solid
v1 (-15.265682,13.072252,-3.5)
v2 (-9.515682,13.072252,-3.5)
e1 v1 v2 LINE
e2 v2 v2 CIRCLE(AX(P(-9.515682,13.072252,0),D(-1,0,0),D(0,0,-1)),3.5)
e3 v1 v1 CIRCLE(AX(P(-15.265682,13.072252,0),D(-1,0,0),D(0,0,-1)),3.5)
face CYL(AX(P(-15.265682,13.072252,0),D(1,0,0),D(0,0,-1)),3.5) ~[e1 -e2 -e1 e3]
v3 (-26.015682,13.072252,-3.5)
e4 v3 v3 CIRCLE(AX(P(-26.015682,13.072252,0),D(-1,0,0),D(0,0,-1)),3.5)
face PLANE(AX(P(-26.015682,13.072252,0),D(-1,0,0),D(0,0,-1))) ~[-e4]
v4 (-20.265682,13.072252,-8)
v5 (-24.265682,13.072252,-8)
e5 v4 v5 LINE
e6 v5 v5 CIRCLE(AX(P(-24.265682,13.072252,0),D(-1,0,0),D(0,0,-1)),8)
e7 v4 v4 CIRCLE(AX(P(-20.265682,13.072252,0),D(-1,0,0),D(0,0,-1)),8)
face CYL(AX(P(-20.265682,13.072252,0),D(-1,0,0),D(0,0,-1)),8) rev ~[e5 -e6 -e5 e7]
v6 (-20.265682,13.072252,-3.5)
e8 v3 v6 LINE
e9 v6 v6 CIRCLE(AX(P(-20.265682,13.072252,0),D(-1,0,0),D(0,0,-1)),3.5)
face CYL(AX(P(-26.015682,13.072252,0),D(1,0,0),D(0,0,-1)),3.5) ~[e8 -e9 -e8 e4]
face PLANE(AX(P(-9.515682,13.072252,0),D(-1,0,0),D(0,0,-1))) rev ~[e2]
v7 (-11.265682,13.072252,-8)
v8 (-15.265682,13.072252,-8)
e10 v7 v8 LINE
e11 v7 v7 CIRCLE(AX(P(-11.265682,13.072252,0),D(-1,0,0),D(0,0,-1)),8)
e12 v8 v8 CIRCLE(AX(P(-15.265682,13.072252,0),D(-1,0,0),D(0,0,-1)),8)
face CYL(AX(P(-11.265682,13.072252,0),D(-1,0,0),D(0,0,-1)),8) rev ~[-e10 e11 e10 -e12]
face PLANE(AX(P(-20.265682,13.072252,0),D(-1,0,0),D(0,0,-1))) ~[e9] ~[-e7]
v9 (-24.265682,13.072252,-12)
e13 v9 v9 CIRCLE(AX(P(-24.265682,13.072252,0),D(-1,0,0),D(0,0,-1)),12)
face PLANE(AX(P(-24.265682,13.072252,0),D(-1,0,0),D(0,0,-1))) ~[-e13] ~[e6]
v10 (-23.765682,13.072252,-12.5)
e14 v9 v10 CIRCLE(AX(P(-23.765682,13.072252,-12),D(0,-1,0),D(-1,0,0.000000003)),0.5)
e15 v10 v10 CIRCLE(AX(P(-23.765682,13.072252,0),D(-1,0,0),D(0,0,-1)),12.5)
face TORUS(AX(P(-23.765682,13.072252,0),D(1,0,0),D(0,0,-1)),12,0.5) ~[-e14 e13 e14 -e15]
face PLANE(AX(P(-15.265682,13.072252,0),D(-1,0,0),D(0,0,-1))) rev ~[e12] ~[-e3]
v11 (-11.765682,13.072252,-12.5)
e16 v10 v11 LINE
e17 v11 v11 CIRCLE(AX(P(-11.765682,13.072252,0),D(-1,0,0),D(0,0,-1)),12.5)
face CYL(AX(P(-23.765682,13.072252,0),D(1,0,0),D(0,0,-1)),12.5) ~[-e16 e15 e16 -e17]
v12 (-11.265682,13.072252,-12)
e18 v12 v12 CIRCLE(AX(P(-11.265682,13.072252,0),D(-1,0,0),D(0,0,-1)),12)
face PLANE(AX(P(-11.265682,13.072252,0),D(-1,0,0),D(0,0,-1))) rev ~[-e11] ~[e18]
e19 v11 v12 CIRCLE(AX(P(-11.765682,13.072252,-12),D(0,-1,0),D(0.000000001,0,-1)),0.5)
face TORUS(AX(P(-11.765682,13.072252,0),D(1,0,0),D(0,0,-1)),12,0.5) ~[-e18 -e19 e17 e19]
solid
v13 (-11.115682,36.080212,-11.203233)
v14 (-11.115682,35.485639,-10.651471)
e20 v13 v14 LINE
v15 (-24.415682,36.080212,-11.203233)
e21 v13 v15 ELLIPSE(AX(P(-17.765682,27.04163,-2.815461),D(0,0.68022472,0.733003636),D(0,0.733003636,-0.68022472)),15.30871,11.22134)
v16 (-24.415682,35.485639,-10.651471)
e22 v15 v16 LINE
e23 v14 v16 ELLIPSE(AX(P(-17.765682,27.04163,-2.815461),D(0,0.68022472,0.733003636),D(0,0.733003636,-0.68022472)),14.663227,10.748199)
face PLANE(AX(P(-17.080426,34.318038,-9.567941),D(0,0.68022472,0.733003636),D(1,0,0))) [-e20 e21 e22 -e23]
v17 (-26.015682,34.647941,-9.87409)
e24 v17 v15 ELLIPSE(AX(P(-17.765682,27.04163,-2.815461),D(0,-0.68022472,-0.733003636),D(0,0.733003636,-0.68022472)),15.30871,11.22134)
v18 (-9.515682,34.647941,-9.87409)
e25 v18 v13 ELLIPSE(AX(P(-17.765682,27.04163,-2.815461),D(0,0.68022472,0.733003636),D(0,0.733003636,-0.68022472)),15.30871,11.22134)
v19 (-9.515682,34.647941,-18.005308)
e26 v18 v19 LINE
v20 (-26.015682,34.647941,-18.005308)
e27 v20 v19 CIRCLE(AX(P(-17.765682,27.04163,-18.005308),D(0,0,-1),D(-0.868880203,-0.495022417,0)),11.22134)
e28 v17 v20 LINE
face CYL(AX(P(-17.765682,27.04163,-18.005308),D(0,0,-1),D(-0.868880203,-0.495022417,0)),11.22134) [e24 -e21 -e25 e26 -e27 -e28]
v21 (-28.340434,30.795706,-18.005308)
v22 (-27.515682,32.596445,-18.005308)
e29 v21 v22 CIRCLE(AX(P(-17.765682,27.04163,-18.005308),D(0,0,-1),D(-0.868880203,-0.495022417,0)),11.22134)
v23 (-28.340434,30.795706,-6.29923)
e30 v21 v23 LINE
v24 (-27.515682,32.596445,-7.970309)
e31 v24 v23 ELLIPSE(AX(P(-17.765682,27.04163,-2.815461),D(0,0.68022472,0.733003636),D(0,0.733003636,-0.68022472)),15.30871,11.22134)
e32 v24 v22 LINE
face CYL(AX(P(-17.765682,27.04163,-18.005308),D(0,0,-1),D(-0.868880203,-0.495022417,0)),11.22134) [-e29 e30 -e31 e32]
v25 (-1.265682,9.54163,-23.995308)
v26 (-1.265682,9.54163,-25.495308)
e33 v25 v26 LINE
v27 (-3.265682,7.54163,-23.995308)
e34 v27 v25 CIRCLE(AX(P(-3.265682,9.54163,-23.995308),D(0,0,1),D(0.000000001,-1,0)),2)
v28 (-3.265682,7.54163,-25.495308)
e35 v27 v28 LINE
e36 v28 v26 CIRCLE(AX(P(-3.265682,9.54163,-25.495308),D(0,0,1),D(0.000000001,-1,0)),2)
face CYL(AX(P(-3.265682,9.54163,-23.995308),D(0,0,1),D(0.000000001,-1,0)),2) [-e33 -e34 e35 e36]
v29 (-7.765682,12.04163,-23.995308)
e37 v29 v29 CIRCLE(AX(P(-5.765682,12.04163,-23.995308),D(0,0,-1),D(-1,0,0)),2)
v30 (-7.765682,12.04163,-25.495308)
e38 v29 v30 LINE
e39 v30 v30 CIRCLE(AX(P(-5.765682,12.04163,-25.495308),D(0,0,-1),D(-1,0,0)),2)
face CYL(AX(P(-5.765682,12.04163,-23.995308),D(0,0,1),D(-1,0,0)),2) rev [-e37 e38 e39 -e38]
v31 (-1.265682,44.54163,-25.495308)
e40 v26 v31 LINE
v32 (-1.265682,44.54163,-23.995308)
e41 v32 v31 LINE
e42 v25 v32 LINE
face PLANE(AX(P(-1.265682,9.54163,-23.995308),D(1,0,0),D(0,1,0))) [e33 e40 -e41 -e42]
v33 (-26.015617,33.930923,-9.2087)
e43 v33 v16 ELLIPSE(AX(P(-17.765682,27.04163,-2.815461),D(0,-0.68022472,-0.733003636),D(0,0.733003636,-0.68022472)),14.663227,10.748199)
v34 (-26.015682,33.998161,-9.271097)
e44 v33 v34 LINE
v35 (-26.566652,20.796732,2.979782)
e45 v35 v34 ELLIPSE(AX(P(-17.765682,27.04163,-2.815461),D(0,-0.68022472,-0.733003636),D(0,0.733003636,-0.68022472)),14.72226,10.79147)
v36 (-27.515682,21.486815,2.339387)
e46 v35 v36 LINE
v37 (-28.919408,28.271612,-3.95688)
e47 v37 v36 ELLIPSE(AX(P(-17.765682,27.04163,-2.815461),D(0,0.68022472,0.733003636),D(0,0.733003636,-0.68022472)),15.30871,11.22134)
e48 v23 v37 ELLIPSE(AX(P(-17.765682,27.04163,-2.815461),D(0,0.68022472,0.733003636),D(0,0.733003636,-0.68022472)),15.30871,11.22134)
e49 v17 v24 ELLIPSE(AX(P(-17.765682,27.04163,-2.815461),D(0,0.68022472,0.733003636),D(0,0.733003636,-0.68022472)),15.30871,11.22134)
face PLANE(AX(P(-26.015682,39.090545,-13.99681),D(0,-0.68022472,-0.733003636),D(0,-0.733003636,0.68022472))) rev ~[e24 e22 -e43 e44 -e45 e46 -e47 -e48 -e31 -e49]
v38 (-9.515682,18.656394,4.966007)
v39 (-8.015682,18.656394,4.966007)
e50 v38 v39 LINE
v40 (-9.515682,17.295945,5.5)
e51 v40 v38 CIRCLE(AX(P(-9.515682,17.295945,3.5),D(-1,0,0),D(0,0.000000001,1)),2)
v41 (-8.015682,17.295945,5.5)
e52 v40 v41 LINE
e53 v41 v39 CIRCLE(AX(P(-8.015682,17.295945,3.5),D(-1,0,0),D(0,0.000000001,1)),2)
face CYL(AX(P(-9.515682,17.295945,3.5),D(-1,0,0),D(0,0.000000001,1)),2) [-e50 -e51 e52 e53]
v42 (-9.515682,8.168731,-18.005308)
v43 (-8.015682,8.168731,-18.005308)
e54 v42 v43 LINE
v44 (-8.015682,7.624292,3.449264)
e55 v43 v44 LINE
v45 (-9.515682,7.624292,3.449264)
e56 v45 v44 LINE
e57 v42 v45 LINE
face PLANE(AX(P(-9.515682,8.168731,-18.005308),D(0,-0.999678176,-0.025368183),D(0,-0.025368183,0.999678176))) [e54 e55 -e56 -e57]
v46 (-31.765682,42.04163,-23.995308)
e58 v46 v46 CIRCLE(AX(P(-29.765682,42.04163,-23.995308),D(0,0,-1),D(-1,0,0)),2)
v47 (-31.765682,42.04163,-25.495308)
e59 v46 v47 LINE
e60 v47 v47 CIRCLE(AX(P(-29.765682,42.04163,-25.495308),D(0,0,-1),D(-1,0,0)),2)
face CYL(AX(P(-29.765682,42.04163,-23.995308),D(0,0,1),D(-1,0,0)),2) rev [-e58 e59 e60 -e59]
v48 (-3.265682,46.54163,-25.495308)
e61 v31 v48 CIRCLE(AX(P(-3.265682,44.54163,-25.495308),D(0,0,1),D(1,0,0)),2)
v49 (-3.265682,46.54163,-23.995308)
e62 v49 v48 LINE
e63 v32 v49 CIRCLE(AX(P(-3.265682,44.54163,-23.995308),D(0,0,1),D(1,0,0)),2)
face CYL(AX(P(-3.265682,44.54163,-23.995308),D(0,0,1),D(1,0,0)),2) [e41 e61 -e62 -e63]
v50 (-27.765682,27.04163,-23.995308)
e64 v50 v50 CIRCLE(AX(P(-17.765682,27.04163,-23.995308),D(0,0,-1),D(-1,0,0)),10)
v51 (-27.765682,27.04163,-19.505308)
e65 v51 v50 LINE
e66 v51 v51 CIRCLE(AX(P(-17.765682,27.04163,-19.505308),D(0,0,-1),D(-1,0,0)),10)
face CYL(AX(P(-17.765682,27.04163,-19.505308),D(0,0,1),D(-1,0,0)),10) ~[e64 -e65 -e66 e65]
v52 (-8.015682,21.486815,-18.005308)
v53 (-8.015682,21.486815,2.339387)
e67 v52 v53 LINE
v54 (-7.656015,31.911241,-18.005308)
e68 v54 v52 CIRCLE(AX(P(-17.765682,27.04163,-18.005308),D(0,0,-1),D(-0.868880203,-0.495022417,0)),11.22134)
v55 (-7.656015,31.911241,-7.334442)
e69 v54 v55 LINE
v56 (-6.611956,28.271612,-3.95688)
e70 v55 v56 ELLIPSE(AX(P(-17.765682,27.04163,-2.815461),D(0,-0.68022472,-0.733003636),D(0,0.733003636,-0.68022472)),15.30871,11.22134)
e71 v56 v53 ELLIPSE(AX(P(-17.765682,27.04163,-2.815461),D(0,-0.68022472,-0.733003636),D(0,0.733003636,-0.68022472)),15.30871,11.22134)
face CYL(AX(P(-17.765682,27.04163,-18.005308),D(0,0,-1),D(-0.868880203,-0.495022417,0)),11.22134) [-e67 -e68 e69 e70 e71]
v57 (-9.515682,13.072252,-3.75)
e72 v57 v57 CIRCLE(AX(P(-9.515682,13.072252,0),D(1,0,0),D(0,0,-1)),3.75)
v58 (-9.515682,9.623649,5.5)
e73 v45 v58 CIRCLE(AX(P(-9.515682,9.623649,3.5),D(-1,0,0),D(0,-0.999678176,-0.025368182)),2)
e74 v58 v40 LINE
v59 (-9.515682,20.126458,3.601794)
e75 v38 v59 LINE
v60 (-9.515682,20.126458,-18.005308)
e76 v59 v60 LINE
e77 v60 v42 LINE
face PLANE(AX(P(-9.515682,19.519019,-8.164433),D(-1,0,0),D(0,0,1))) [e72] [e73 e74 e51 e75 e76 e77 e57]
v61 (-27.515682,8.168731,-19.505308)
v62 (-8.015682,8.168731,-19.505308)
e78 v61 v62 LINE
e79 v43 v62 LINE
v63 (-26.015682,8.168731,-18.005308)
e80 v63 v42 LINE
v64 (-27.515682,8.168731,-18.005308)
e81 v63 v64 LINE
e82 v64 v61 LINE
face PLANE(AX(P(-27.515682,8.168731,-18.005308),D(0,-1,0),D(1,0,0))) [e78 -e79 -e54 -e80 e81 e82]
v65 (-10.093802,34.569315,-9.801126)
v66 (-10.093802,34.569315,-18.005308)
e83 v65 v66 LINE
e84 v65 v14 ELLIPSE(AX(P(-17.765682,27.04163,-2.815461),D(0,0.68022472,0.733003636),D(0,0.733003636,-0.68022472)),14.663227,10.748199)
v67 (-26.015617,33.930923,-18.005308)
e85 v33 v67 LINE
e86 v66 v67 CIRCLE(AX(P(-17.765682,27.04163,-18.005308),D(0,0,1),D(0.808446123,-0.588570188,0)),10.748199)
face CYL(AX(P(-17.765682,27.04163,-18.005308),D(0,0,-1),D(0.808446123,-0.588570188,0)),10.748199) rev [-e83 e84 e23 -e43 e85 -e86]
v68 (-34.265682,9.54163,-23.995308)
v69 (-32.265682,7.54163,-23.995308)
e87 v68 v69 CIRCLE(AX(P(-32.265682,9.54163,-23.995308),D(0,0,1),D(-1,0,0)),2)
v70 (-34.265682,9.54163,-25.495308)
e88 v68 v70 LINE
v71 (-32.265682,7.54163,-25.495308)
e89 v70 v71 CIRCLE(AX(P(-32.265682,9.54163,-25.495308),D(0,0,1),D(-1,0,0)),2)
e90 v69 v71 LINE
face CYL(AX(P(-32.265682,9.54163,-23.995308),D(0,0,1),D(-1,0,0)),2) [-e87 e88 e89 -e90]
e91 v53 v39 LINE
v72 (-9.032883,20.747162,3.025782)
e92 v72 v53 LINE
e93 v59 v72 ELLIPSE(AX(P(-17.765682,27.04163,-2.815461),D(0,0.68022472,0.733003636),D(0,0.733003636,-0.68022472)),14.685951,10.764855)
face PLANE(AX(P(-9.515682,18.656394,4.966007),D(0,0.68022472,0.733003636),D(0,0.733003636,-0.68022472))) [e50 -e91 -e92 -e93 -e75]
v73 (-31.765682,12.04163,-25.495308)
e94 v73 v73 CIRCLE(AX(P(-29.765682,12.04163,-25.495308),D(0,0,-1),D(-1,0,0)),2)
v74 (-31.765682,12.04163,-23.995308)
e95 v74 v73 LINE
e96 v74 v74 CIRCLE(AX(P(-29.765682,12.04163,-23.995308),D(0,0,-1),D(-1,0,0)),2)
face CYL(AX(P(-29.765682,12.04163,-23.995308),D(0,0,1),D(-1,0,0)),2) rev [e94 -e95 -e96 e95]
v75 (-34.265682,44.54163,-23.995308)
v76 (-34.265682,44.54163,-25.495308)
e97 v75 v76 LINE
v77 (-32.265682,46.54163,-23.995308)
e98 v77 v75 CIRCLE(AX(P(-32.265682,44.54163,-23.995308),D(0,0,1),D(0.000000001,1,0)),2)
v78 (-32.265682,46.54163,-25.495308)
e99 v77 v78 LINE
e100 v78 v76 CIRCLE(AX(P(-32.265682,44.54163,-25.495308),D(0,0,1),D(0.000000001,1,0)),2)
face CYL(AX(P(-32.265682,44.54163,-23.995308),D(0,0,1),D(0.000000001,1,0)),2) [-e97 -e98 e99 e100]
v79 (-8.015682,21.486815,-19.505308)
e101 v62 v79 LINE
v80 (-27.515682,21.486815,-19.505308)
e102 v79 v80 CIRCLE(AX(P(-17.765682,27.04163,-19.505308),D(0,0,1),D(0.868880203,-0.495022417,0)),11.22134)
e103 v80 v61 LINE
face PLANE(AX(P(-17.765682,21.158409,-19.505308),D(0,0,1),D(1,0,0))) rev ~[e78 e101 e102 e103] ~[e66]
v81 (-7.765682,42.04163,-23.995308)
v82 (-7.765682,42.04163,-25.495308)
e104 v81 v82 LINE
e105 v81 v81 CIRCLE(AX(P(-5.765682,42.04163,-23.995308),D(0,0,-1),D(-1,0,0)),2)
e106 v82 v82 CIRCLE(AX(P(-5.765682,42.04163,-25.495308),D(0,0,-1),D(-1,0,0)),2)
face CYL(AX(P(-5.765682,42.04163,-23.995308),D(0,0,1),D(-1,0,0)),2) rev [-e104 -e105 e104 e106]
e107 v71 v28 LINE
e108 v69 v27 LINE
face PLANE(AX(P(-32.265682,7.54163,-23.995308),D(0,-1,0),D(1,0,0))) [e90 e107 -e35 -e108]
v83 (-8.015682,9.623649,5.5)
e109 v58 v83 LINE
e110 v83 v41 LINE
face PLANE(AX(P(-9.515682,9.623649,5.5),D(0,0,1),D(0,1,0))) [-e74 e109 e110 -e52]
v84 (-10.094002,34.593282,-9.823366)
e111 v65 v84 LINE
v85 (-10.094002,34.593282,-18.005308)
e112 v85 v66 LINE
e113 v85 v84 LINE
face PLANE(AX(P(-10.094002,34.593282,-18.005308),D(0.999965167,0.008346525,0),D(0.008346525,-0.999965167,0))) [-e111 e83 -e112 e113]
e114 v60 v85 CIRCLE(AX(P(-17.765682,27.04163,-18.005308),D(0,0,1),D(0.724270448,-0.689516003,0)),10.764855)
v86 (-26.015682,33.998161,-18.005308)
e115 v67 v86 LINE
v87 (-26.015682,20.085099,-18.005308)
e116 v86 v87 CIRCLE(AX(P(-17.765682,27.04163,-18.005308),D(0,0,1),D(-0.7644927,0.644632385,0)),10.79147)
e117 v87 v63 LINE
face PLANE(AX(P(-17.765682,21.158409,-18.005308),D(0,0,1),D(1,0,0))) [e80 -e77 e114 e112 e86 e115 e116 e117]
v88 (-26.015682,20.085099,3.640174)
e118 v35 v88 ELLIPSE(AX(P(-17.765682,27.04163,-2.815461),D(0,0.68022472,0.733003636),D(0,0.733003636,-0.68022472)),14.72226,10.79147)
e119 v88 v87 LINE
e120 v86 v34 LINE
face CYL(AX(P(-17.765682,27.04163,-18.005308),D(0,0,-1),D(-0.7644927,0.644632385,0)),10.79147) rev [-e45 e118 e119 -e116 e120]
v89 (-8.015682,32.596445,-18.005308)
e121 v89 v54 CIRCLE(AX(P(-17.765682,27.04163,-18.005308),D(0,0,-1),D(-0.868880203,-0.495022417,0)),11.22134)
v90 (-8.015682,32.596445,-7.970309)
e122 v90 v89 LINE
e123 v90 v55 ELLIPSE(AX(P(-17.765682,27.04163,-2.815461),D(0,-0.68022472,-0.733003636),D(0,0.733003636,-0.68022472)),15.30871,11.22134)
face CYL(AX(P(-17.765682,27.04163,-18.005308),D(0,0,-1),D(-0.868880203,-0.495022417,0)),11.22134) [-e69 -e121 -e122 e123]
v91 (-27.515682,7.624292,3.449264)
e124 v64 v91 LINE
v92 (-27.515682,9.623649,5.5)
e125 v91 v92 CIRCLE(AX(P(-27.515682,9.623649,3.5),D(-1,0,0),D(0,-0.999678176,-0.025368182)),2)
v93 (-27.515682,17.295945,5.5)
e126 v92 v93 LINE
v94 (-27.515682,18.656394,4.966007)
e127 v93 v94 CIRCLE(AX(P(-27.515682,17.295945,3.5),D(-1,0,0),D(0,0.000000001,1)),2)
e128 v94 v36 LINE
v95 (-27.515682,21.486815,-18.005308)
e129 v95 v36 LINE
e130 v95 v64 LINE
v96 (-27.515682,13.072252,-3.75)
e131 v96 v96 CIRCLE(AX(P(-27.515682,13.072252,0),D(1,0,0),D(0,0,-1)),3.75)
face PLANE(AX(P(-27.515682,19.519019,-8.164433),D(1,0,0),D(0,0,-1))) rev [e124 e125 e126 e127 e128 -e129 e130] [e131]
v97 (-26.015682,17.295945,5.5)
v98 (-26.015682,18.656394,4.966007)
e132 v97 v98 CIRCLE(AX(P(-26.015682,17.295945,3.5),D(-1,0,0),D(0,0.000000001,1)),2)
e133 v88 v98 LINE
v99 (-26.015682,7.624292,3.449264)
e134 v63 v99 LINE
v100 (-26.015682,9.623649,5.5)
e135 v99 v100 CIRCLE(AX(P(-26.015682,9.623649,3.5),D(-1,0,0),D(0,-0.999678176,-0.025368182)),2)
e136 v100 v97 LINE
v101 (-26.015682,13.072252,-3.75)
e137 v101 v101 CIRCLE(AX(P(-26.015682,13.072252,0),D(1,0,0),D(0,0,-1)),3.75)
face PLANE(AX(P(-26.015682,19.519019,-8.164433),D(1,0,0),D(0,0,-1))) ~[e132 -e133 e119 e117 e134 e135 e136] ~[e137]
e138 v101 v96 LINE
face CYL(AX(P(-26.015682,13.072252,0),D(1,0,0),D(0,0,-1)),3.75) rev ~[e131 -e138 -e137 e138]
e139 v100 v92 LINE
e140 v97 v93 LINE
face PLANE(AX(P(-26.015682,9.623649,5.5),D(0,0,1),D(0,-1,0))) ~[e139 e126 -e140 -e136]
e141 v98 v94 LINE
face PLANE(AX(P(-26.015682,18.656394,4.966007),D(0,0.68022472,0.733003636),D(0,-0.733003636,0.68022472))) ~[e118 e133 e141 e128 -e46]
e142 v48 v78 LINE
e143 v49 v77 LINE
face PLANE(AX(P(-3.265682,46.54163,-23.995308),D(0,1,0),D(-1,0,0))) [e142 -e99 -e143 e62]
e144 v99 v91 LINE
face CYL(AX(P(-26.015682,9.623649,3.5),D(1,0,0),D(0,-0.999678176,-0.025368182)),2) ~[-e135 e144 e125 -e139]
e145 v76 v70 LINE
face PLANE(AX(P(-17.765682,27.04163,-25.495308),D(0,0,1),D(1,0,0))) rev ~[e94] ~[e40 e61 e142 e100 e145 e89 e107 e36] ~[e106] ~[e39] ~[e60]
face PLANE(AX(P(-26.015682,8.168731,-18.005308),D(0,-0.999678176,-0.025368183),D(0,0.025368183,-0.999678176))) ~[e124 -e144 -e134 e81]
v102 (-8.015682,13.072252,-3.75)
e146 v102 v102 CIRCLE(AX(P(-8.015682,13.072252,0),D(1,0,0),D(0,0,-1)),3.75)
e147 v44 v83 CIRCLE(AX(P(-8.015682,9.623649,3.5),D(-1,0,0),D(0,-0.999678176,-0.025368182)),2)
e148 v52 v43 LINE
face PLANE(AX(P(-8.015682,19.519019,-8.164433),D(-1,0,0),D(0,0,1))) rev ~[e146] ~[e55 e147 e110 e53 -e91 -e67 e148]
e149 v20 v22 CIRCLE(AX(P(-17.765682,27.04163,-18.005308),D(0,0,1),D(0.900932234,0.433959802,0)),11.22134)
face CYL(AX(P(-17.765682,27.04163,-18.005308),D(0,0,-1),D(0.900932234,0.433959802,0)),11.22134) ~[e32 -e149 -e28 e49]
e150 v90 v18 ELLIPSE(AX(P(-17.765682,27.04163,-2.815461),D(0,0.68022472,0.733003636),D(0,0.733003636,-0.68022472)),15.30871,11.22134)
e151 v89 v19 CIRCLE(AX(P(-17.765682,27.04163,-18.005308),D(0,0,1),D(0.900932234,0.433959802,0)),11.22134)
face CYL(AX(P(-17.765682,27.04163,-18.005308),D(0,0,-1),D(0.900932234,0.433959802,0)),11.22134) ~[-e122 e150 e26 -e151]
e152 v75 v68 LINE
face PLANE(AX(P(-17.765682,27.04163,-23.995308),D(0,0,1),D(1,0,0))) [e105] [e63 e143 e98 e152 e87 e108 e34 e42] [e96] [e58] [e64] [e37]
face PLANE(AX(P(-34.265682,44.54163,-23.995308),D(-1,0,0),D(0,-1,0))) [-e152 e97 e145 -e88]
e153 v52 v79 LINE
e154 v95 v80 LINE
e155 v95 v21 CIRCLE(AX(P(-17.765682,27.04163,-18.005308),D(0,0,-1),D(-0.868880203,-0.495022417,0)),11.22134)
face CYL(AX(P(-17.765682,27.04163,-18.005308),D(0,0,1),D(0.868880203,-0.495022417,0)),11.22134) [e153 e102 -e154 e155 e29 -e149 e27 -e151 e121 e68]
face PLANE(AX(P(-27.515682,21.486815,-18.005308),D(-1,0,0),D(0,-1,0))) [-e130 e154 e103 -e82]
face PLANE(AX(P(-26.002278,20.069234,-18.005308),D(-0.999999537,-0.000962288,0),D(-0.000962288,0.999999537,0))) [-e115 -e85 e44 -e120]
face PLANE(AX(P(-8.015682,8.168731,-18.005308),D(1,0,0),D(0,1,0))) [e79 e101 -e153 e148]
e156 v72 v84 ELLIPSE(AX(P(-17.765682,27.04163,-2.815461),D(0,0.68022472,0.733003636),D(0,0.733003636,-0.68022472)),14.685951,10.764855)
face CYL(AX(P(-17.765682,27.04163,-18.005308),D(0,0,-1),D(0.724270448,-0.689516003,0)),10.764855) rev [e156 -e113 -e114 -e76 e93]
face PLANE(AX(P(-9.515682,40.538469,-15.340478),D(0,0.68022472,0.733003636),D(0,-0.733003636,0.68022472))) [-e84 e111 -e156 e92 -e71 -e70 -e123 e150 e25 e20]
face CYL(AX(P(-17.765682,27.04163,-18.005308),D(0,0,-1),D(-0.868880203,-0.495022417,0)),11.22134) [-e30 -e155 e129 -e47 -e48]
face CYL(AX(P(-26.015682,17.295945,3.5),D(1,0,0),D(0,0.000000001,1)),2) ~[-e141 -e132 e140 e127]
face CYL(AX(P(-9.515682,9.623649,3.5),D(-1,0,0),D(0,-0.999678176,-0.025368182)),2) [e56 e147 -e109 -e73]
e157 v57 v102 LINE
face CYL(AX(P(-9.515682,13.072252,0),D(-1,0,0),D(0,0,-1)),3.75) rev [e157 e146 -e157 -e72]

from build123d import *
from build123d.topology import SkipClean

# Parameters (mm, degrees)
SKETCH_5_R               = 3.75
EXTRUDE_2_DEPTH          = 1.5
EXTRUDE_5_DEPTH          = 21.5
CUT_EXTRUDE_1_DEPTH      = 1.6
CUT_EXTRUDE_1_DEPTH_BACK = 4.5
CUT_EXTRUDE_2_DEPTH      = 1.6
CUT_EXTRUDE_2_DEPTH_BACK = 7.5
SKETCH_22_W              = 26.817098193
SKETCH_22_H              = 16.497671188
CUT_EXTRUDE_3_DEPTH      = 19.5
CUT_EXTRUDE_4_DEPTH      = 27.5
CUT_EXTRUDE_5_DEPTH      = 15.5
EXTRUDE_6_DEPTH          = 1.5
SKETCH_30_R              = 10
EXTRUDE_7_DEPTH          = 4.49
SKETCH_31_R              = 2
EXTRUDE_8_DEPTH          = 1.5


with BuildPart() as part:
    # 草图1 → 旋转2 (revolve)
    with BuildSketch(Plane.XY, mode=Mode.PRIVATE) as revolve_2_sk:
        with BuildLine():
            Line((-23.765681953, 25.572252126), (-11.765681953, 25.572252126))
            ThreePointArc((-11.765681953, 25.572252126), (-11.412128563, 25.425805517), (-11.265681953, 25.072252126))
            Line((-11.265681953, 25.072252126), (-11.265681953, 21.072252126))
            Line((-11.265681953, 21.072252126), (-15.265681953, 21.072252126))
            Line((-15.265681953, 21.072252126), (-15.265681953, 16.572252126))
            Line((-15.265681953, 16.572252126), (-9.515681953, 16.572252126))
            Line((-9.515681953, 16.572252126), (-9.515681953, 13.072252126))
            Line((-9.515681953, 13.072252126), (-26.015681953, 13.072252126))
            Line((-26.015681953, 13.072252126), (-26.015681953, 16.572252126))
            Line((-26.015681953, 16.572252126), (-20.265681953, 16.572252126))
            Line((-20.265681953, 16.572252126), (-20.265681953, 21.072252126))
            Line((-20.265681953, 21.072252126), (-24.265681953, 21.072252126))
            Line((-24.265681953, 21.072252126), (-24.265681953, 25.072252126))
            ThreePointArc((-24.265681953, 25.072252126), (-24.119235344, 25.425805517), (-23.765681953, 25.572252126))
        make_face()
    revolve(revolve_2_sk.sketch.rotate(Axis((-9.515681953, 13.072252126, 0), (-1, 0, 0)), 90), axis=Axis((-9.515681953, 13.072252126, 0), (-1, 0, 0)))


with BuildPart() as body_2:
    # 草图5 → 凸台-拉伸2 (new body)
    with BuildSketch(Plane(origin=(-9.515681953, 0, 0), x_dir=(0, 0, -1), z_dir=(1, 0, 0))):
        with BuildLine():
            Line((10.019747389, 34.80489993), (18.005307941, 34.80489993))
            Line((18.005307941, 34.80489993), (18.005307941, 8.168731038))
            Line((18.005307941, 8.168731038), (-3.449263634, 7.624292329))
            ThreePointArc((-3.449263634, 7.624292329), (-4.896160318, 8.191609448), (-5.5, 9.623648681))
            Line((-5.5, 9.623648681), (-5.5, 17.295944941))
            ThreePointArc((-5.5, 17.295944941), (-5.361721588, 18.026693001), (-4.966007273, 18.65639438))
            Line((-4.966007273, 18.65639438), (10.019747389, 34.80489993))
        make_face()
        with Locations((0, 13.072252126)):
            Circle(SKETCH_5_R, mode=Mode.SUBTRACT)
    extrude(amount=EXTRUDE_2_DEPTH)


with BuildPart() as body_3:
    # 镜向24: mirrored copy
    add(body_2.part.mirror(Plane.ZY.offset(17.765681953)))


with BuildPart() as body_2_1:
    add(body_2.part)

    add(body_3.part)  # 凸台-拉伸5 merges body 3
    # 草图11 → 凸台-拉伸5 (add)
    with BuildSketch(Plane(origin=(0, 0, -18.005307941), x_dir=(-1, 0, 0), z_dir=(0, 0, -1))):
        with BuildLine():
            Line((8.015681953, 21.486815484), (9.076342125, 20.715560721))
            ThreePointArc((9.076342125, 20.715560721), (17.765681953, 37.789829256), (26.455021781, 20.715560721))
            Line((26.455021781, 20.715560721), (27.515681953, 21.486815484))
            ThreePointArc((27.515681953, 21.486815484), (17.765681953, 38.262970038), (8.015681953, 21.486815484))
        make_face()
    extrude(amount=-EXTRUDE_5_DEPTH)

    # 草图20 → 切除-拉伸1 (cut, two sides)
    with BuildSketch(Plane(origin=(-26.015681953, 0, 0), x_dir=(0, 0, -1), z_dir=(1, 0, 0))) as cut_extrude_1_sk:
        Polygon((-4.683045303, 20.42370573), (-4.683045303, 39.090544701), (13.996810214, 39.090544701), (-4.683045303, 18.961311485), align=None)
    extrude(amount=CUT_EXTRUDE_1_DEPTH, mode=Mode.SUBTRACT)
    extrude(cut_extrude_1_sk.sketch, amount=-CUT_EXTRUDE_1_DEPTH_BACK, mode=Mode.SUBTRACT)

    # 草图21 → 切除-拉伸2 (cut, two sides)
    with BuildSketch(Plane.ZY.offset(9.515681953)) as cut_extrude_2_sk:
        Polygon((4.577823746, 22.481995167), (4.577823746, 40.538468548), (-15.3404783, 40.538468548), (4.577823746, 19.074697226), align=None)
    extrude(amount=CUT_EXTRUDE_2_DEPTH, mode=Mode.SUBTRACT)
    extrude(cut_extrude_2_sk.sketch, amount=-CUT_EXTRUDE_2_DEPTH_BACK, mode=Mode.SUBTRACT)

    # 草图22 → 切除-拉伸3 (cut)
    with BuildSketch(Plane(origin=(0, 11.108506392, 11.970419987), x_dir=(1, 0, 0), z_dir=(0, 0.6802247196005162, 0.7330036363104886))):
        with Locations((-17.080425975, 31.663597137)):
            Rectangle(SKETCH_22_W, SKETCH_22_H)
    extrude(amount=CUT_EXTRUDE_3_DEPTH, mode=Mode.SUBTRACT)

    # 草图23 → 切除-拉伸4 (cut)
    with BuildSketch(Plane(origin=(0, 0, -18.005307941), x_dir=(-1, 0, 0), z_dir=(0, 0, -1))):
        with BuildLine():
            Line((10.094002143, 34.593281748), (9.969015318, 19.619090169))
            ThreePointArc((9.969015318, 19.619090169), (7.001201529, 27.131479376), (10.094002143, 34.593281748))
        make_face()
        with BuildLine():
            Line((26.002278311, 20.069234364), (26.015681953, 33.998161251))
            ThreePointArc((26.015681953, 33.998161251), (28.55714691, 27.031245737), (26.002278311, 20.069234364))
        make_face()
    extrude(amount=-CUT_EXTRUDE_4_DEPTH, mode=Mode.SUBTRACT)

    # 草图25 → 切除-拉伸5 (cut)
    with SkipClean():  # the faces are left unmerged after this step: merging them gives an invalid solid
        with BuildSketch(Plane(origin=(0, 0, -18.005307941), x_dir=(-1, 0, 0), z_dir=(0, 0, -1))):
            with BuildLine():
                Line((6.004810848, 32.418786574), (7.656015217, 31.911240633))
                ThreePointArc((7.656015217, 31.911240633), (18.36998363, 38.246686524), (28.340434079, 30.795705942))
                Line((28.340434079, 30.795705942), (29.745614925, 31.911240633))
                ThreePointArc((29.745614925, 31.911240633), (18.042083375, 39.97049336), (6.004810848, 32.418786574))
            make_face()
        extrude(amount=-CUT_EXTRUDE_5_DEPTH, mode=Mode.SUBTRACT)

    # 草图29 → 凸台-拉伸6 (add)
    with SkipClean():  # the faces are left unmerged after this step: merging them gives an invalid solid
        with BuildSketch(Plane(origin=(0, 0, -18.005307941), x_dir=(-1, 0, 0), z_dir=(0, 0, -1))):
            with BuildLine():
                Line((27.515681953, 21.486815484), (27.515681953, 8.168731038))
                Line((27.515681953, 8.168731038), (8.015681953, 8.168731038))
                Line((8.015681953, 8.168731038), (8.015681953, 21.486815484))
                ThreePointArc((8.015681953, 21.486815484), (17.765681953, 38.262970038), (27.515681953, 21.486815484))
            make_face()
        extrude(amount=EXTRUDE_6_DEPTH)

    # 草图30 → 凸台-拉伸7 (add)
    with SkipClean():  # the faces are left unmerged after this step: merging them gives an invalid solid
        with BuildSketch(Plane(origin=(0, 0, -19.505307941), x_dir=(-1, 0, 0), z_dir=(0, 0, -1))):
            with Locations((17.765681953, 27.041630236)):
                Circle(SKETCH_30_R)
        extrude(amount=EXTRUDE_7_DEPTH)

    # 草图31 → 凸台-拉伸8 (add)
    with SkipClean():  # the faces are left unmerged after this step: merging them gives an invalid solid
        with BuildSketch(Plane(origin=(0, 0, -23.995307941), x_dir=(-1, 0, 0), z_dir=(0, 0, -1))):
            with BuildLine():
                Line((32.265681953, 7.541630236), (3.265681953, 7.541630236))
                ThreePointArc((3.265681953, 7.541630236), (1.851468391, 8.127416674), (1.265681953, 9.541630236))
                Line((1.265681953, 9.541630236), (1.265681953, 44.541630236))
                ThreePointArc((1.265681953, 44.541630236), (1.851468391, 45.955843799), (3.265681953, 46.541630236))
                Line((3.265681953, 46.541630236), (32.265681953, 46.541630236))
                ThreePointArc((32.265681953, 46.541630236), (33.679895516, 45.955843799), (34.265681953, 44.541630236))
                Line((34.265681953, 44.541630236), (34.265681953, 9.541630236))
                ThreePointArc((34.265681953, 9.541630236), (33.679895516, 8.127416674), (32.265681953, 7.541630236))
            make_face()
            with Locations((29.765681953, 12.041630236)):
                Circle(SKETCH_31_R, mode=Mode.SUBTRACT)
            with Locations((5.765681953, 12.041630236)):
                Circle(SKETCH_31_R, mode=Mode.SUBTRACT)
            with Locations((29.765681953, 42.041630236)):
                Circle(SKETCH_31_R, mode=Mode.SUBTRACT)
            with Locations((5.765681953, 42.041630236)):
                Circle(SKETCH_31_R, mode=Mode.SUBTRACT)
        extrude(amount=EXTRUDE_8_DEPTH)


solid = Compound([part.part, body_2_1.part])
